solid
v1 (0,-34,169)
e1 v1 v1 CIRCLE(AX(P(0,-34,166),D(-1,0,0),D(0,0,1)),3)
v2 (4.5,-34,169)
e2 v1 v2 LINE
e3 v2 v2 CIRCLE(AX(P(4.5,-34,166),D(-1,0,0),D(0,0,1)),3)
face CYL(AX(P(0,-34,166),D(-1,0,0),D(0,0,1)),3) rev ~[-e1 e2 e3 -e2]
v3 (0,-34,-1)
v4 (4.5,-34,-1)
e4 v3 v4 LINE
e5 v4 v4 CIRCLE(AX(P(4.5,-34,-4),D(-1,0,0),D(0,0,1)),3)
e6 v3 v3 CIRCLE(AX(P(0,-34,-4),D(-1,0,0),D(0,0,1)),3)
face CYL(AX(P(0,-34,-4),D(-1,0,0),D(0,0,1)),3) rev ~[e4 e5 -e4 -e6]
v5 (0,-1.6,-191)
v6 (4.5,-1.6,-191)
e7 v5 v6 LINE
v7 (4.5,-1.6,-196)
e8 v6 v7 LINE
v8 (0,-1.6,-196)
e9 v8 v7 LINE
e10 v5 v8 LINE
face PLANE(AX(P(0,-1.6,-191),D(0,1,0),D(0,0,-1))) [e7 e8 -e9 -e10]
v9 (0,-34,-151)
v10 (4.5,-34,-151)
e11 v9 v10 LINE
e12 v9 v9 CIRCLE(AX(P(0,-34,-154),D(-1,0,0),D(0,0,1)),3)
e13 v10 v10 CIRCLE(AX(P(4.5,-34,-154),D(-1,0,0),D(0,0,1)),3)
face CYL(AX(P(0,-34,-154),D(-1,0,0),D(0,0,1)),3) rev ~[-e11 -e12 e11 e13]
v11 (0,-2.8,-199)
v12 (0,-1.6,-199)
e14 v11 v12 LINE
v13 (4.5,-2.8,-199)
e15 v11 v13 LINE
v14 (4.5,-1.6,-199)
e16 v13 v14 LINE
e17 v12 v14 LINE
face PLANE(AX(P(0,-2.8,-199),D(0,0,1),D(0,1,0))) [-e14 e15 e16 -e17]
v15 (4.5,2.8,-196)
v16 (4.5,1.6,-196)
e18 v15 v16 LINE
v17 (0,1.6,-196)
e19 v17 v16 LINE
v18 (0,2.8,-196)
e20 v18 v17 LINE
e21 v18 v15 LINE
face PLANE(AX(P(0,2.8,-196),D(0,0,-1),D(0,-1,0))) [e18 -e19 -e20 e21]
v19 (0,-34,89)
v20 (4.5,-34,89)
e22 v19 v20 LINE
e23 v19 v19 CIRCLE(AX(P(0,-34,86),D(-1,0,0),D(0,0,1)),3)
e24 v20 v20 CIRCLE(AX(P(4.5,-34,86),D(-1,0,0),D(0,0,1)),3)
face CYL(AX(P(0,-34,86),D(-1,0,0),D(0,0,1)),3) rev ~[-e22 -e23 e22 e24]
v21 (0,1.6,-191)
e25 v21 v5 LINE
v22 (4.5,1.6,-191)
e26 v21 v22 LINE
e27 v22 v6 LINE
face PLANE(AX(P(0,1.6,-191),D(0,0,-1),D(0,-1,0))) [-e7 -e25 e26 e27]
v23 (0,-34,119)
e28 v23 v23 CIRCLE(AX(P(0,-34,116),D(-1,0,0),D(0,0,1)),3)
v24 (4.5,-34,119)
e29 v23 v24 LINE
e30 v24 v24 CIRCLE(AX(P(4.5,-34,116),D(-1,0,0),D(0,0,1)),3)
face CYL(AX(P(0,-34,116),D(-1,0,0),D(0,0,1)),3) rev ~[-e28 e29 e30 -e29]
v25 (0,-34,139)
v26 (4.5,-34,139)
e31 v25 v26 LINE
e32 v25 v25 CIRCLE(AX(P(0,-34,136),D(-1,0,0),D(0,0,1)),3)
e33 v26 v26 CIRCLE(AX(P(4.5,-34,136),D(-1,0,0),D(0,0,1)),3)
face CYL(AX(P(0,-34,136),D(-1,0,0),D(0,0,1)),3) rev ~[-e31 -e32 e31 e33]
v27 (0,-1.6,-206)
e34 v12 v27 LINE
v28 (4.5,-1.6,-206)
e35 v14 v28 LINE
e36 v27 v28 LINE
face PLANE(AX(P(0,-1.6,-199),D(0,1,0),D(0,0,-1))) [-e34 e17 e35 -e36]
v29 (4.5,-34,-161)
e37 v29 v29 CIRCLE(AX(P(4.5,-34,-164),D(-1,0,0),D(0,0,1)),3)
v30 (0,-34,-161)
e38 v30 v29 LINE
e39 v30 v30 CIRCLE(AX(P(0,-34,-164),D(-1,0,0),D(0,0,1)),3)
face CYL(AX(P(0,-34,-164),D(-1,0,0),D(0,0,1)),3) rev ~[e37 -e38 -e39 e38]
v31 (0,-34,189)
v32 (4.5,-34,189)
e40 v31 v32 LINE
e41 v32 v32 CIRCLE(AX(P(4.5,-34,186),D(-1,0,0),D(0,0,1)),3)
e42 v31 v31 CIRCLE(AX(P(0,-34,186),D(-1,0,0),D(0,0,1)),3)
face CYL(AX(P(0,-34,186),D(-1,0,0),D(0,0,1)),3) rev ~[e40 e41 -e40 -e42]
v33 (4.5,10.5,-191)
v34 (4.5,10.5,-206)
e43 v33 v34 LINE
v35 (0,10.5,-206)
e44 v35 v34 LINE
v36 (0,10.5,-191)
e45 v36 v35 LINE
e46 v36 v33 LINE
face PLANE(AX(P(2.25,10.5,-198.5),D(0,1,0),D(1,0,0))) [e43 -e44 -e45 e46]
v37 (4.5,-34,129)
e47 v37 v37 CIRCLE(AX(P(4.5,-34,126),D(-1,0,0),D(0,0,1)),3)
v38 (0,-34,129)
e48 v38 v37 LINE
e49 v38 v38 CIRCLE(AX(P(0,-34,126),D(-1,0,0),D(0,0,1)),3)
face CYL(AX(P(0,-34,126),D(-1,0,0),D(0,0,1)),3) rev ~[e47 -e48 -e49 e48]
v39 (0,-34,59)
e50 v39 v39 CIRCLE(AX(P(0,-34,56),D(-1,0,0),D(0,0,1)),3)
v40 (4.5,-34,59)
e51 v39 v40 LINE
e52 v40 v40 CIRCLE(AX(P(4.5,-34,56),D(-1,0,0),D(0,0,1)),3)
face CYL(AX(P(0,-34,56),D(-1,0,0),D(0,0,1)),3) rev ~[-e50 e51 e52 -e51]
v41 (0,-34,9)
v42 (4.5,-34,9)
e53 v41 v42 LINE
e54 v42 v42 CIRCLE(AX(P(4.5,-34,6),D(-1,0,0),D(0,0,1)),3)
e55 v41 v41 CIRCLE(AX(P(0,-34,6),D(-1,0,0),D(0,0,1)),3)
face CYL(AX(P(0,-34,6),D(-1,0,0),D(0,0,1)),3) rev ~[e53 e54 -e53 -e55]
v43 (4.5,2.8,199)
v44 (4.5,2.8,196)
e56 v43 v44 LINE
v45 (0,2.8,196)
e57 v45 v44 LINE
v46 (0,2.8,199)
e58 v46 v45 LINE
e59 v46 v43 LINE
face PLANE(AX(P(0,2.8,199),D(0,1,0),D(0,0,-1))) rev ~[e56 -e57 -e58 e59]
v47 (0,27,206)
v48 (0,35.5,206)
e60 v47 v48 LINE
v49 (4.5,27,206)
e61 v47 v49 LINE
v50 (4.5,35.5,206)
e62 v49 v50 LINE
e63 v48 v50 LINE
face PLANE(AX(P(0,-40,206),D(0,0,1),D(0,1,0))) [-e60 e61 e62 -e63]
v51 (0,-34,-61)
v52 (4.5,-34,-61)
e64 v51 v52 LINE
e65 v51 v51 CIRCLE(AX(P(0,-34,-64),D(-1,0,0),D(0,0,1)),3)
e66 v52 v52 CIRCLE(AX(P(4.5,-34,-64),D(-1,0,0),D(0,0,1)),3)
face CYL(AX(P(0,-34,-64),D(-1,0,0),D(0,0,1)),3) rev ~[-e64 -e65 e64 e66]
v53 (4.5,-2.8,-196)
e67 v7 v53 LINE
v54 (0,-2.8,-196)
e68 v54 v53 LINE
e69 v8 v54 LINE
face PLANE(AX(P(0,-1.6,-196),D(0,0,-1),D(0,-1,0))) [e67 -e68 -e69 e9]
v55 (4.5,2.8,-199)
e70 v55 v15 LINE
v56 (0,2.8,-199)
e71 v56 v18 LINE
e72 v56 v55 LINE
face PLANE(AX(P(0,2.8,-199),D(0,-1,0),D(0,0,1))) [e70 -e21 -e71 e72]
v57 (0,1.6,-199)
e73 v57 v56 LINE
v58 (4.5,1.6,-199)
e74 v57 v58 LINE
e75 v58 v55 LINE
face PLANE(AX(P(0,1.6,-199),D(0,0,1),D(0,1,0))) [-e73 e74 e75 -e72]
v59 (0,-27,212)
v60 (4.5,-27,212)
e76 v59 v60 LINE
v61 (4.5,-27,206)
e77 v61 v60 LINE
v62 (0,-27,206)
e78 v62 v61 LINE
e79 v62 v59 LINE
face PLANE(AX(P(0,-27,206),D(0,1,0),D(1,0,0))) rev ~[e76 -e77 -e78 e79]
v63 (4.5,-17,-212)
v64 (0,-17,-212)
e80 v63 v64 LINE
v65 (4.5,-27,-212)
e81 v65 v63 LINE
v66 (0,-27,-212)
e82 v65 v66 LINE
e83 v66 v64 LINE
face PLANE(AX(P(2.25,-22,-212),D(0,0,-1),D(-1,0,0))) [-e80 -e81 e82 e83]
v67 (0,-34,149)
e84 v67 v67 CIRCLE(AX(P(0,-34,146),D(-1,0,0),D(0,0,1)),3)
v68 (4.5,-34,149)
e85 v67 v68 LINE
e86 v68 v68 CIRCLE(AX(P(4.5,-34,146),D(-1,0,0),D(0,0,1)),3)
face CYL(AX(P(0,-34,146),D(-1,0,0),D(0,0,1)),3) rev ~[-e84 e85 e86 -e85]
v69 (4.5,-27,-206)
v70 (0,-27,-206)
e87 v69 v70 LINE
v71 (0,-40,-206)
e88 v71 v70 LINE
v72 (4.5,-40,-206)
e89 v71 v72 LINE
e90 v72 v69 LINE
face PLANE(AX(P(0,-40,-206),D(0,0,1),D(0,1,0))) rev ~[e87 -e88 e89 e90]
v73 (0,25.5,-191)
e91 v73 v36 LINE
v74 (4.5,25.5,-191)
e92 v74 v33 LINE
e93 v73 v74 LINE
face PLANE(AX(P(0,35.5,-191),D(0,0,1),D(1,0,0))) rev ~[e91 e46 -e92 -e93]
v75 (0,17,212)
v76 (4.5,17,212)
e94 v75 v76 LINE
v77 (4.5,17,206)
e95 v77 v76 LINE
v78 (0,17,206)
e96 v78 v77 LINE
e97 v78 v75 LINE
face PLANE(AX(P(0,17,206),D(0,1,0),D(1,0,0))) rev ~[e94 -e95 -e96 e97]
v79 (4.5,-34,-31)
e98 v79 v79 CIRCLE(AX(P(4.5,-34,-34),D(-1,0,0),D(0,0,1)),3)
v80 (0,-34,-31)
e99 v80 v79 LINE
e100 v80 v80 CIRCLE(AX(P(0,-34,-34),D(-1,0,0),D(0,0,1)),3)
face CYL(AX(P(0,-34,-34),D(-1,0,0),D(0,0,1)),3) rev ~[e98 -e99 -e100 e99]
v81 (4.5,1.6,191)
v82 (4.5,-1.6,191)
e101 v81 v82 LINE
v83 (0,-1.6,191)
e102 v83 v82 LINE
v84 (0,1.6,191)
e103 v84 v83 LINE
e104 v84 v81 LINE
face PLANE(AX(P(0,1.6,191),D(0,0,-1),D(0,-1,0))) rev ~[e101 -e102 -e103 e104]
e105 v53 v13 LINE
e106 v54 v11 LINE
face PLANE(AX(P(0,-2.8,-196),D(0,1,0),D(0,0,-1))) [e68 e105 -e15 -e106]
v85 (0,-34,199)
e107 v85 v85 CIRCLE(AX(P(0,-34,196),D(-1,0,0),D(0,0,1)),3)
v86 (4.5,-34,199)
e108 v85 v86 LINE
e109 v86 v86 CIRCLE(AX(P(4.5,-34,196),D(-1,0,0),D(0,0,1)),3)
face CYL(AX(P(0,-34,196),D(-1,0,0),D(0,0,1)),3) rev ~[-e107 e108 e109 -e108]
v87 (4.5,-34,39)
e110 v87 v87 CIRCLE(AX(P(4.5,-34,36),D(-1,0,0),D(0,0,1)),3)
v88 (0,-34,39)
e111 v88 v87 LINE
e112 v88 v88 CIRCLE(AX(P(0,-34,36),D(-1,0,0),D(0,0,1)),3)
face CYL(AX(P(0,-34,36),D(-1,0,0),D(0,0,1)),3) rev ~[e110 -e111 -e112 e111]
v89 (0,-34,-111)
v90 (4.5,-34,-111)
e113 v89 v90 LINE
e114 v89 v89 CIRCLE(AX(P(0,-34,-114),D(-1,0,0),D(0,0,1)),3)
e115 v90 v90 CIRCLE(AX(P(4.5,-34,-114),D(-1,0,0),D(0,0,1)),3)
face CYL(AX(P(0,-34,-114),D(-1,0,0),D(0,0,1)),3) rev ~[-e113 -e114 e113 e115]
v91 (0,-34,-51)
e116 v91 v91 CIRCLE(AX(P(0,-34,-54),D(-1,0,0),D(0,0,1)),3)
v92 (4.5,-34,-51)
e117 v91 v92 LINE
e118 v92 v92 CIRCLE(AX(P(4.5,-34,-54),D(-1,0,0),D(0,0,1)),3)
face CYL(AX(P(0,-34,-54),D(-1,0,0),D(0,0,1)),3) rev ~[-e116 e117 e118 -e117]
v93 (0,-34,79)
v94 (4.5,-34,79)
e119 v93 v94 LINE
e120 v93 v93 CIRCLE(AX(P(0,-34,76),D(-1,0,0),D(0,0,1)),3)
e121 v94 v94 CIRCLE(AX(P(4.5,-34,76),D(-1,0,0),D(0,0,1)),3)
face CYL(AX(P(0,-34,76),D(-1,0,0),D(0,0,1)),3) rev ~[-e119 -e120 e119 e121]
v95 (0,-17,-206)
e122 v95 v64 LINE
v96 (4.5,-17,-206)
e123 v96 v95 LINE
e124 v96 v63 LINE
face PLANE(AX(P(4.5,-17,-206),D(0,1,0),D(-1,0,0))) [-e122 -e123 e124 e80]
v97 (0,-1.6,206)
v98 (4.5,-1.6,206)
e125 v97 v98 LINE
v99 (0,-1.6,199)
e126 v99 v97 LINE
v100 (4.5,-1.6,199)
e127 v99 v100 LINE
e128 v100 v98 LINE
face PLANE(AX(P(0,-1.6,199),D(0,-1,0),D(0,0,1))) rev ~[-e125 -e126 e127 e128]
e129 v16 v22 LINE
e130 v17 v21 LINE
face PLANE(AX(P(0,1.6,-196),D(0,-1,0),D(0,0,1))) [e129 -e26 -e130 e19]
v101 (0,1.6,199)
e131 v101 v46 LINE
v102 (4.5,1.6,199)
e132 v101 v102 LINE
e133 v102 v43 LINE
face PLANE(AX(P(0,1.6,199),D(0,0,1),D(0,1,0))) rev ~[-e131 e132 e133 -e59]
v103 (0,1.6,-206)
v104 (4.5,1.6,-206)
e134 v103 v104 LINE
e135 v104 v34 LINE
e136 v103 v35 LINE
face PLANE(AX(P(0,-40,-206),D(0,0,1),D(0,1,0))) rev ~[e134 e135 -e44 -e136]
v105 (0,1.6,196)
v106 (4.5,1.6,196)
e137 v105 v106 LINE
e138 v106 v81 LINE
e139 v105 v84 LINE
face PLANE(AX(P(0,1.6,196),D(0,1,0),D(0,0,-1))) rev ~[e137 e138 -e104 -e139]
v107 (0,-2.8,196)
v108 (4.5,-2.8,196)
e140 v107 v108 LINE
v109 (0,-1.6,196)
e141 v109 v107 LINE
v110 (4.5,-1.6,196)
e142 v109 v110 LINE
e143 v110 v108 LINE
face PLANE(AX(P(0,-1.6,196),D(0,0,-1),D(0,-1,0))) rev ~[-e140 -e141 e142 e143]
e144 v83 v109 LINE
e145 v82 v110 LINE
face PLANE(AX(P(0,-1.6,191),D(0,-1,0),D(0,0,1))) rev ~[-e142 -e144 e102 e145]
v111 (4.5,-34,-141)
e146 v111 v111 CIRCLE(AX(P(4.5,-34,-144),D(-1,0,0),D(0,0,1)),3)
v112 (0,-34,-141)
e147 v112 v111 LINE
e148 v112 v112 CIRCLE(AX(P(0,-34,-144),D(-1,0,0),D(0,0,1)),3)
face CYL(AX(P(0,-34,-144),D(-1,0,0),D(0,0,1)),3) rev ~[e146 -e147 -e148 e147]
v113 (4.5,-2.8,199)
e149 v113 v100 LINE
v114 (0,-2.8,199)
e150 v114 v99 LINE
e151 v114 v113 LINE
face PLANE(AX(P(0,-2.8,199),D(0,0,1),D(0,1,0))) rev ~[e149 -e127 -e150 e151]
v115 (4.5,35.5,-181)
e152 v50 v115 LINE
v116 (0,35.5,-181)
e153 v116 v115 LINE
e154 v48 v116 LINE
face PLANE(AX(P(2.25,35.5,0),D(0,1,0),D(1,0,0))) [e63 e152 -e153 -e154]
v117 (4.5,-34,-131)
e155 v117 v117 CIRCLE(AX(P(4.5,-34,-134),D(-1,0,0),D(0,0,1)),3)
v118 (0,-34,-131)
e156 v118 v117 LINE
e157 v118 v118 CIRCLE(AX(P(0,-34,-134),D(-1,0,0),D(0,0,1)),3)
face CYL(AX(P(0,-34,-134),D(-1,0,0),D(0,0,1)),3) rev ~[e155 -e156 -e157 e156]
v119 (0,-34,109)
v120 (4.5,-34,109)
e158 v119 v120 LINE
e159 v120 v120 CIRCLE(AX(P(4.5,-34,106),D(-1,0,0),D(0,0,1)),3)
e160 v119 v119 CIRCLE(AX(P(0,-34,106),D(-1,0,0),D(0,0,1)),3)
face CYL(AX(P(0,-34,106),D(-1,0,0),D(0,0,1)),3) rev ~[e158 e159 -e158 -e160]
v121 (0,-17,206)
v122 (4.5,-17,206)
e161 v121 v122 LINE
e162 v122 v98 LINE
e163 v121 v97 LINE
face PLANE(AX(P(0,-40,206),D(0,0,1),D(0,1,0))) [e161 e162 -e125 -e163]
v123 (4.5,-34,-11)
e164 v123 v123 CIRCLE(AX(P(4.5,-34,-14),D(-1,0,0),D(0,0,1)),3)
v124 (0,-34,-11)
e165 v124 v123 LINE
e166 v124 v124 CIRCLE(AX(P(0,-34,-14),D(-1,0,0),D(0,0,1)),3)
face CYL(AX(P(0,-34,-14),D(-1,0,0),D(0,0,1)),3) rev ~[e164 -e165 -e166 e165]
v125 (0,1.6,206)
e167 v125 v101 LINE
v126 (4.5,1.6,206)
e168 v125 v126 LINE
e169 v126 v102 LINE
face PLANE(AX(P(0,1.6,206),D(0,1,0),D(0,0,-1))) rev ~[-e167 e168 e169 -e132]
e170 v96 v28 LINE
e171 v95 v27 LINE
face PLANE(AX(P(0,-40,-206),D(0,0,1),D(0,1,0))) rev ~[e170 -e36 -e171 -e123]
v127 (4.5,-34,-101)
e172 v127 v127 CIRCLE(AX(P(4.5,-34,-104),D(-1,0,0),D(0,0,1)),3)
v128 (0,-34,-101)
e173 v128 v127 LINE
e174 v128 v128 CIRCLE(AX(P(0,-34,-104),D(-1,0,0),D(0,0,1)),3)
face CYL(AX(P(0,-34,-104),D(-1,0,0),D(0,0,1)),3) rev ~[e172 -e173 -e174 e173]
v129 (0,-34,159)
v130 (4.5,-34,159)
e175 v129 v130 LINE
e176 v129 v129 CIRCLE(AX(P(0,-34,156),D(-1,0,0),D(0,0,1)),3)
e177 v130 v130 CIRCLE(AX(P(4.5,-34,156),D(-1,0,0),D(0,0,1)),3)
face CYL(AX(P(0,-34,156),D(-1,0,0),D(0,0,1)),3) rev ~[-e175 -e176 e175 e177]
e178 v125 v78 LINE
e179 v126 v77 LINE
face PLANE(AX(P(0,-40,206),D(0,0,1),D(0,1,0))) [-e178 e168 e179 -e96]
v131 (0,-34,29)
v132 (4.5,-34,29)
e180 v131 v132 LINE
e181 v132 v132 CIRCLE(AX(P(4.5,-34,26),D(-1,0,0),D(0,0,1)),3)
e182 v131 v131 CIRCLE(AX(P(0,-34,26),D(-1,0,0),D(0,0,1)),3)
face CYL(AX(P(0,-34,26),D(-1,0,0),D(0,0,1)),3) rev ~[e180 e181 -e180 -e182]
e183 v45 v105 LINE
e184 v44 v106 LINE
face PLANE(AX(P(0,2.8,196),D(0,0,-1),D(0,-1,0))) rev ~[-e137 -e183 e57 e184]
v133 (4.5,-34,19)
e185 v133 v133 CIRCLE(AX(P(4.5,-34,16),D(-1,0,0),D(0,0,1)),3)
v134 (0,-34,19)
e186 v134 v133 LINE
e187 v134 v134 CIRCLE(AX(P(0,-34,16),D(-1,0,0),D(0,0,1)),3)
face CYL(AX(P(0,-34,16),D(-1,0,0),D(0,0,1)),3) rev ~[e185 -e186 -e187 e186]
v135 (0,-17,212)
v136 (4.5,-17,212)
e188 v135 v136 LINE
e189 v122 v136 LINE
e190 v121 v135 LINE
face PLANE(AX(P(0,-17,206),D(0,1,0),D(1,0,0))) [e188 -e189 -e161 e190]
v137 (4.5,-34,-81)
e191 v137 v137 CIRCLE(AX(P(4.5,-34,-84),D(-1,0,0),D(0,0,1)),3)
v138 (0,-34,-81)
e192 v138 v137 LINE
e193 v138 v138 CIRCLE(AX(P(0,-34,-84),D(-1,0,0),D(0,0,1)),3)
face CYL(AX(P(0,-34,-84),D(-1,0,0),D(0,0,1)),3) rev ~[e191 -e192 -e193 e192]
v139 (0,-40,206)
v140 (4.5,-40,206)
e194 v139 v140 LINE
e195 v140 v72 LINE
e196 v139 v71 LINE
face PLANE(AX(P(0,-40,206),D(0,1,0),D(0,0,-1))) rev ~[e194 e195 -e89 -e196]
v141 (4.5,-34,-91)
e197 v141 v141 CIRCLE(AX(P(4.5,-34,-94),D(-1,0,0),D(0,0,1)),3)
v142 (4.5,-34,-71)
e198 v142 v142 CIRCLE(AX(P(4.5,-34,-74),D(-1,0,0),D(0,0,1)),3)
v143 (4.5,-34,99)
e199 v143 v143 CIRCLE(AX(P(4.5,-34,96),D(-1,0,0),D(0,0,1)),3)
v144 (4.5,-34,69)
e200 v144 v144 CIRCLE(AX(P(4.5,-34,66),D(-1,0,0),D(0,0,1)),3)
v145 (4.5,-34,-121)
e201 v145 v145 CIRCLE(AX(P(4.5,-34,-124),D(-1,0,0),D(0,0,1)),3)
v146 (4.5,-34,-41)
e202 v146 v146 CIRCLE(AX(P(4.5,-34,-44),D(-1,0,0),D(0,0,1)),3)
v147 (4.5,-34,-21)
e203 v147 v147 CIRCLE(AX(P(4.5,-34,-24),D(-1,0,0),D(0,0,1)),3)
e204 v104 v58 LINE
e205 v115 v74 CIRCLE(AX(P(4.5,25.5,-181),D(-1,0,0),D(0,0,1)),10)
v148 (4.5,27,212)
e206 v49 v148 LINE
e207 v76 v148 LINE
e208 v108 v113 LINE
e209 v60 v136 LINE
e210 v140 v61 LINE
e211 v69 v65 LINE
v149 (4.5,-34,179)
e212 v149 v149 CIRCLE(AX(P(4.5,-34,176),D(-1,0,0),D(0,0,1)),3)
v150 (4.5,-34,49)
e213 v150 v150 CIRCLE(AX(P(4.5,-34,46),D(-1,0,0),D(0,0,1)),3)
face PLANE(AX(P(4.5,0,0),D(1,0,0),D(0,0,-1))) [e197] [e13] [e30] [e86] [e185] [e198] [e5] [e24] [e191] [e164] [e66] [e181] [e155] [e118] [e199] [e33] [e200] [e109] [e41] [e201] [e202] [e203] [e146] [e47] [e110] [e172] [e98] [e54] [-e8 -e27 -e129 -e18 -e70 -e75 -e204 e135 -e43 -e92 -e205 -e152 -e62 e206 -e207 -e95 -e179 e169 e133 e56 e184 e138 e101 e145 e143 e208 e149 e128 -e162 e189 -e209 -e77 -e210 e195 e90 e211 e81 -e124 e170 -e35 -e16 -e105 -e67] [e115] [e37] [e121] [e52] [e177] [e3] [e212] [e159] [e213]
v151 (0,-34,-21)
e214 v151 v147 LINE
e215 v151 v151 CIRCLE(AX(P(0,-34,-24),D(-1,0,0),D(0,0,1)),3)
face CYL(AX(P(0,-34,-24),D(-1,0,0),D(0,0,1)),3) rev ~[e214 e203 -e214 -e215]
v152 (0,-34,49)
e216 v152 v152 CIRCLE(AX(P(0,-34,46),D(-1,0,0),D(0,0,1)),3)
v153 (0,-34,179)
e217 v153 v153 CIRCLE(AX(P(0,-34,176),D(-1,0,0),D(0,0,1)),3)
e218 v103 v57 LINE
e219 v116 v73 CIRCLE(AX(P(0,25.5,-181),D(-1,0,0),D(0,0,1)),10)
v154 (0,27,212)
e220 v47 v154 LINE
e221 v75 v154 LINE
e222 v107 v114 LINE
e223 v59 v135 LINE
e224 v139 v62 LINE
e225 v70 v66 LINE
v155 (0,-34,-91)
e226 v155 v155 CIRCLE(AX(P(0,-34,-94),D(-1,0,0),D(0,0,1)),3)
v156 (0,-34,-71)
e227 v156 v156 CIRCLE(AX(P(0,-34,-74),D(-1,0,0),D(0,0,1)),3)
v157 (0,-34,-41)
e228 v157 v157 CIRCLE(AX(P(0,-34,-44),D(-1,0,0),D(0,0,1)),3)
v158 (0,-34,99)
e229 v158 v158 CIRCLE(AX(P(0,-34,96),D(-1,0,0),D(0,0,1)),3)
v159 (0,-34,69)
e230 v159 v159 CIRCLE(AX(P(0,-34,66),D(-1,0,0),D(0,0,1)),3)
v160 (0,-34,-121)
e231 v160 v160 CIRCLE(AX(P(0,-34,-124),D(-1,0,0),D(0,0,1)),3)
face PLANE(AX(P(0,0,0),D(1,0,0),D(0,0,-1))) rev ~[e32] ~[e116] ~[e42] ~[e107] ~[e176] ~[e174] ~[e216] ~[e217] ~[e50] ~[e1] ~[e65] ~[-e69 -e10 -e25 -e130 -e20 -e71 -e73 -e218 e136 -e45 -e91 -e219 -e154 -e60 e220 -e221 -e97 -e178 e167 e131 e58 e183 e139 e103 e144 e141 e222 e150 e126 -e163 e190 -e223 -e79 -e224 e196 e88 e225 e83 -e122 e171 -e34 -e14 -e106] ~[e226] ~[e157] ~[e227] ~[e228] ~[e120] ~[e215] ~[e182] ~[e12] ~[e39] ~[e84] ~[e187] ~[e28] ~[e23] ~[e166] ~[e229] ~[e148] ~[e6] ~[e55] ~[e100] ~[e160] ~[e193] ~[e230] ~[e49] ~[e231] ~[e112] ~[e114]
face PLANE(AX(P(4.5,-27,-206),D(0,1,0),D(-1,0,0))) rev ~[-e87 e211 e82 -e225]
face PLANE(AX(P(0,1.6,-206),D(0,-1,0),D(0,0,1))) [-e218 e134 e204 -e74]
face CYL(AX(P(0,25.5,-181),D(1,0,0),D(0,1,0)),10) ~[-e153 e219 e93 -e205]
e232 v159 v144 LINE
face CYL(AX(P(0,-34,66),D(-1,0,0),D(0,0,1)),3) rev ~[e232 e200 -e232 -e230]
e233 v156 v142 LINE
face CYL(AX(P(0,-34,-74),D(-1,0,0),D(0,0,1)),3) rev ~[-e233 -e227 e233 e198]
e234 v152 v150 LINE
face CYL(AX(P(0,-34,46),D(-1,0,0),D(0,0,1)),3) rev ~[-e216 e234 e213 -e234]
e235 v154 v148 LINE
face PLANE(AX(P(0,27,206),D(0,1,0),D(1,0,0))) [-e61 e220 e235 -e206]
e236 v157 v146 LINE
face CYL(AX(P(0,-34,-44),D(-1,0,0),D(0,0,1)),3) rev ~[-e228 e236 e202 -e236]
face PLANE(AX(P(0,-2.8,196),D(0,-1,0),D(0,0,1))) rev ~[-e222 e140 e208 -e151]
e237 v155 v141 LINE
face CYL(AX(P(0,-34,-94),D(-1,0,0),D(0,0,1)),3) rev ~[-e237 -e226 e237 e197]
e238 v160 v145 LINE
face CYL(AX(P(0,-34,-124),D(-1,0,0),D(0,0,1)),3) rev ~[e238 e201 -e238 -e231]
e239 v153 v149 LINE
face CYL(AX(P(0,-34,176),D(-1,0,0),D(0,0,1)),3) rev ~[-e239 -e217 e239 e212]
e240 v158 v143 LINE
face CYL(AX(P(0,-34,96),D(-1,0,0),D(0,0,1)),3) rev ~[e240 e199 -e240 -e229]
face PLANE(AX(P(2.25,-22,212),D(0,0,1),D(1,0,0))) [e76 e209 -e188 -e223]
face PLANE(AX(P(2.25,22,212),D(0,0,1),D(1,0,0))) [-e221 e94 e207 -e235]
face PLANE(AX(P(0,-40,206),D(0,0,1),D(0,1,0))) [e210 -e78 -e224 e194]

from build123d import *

# Parameters (mm, degrees)
SKETCH1_W           = 412
SKETCH1_H           = 80
BOSS_EXTRUDE1_DEPTH = 4.5
SKETCH4_W           = 4.5
SKETCH4_H           = 10
BOSS_EXTRUDE2_DEPTH = 6
CUT_EXTRUDE3_REACH  = 6.5
SKETCH7_W           = 4.5
SKETCH7_H           = 10
BOSS_EXTRUDE3_DEPTH = 6
SKETCH8_W           = 4.5
SKETCH8_H           = 412
CUT_EXTRUDE4_DEPTH  = 4.5
SKETCH9_W           = 4.5
SKETCH9_H           = 15
CUT_EXTRUDE5_DEPTH  = 25
FILLET1_R           = 10
SKETCH10_R          = 3
CUT_EXTRUDE6_DEPTH  = 4.5


with BuildPart() as part:
    # Sketch1 → Boss-Extrude1 (new body)
    with BuildSketch(Plane(origin=(0, 0, 0), x_dir=(0, 0, -1), z_dir=(1, 0, 0))):
        Rectangle(SKETCH1_W, SKETCH1_H)
    extrude(amount=BOSS_EXTRUDE1_DEPTH)

    # Sketch4 → Boss-Extrude2 (add)
    with BuildSketch(Plane.XY.offset(206)):
        with Locations((2.25, 22)):
            Rectangle(SKETCH4_W, SKETCH4_H)
        with Locations((2.25, -22)):
            Rectangle(SKETCH4_W, SKETCH4_H)
    extrude(amount=BOSS_EXTRUDE2_DEPTH)

    # Sketch5 → Cut-Extrude3 (cut, up to next)
    with BuildSketch(Plane.ZY, mode=Mode.PRIVATE) as cut_extrude3_sk1:
        Polygon((206, -1.6), (206, 1.6), (199, 1.6), (199, 2.8), (196, 2.8), (196, 1.6), (191, 1.6), (191, -1.6), (196, -1.6), (196, -2.8), (199, -2.8), (199, -1.6), align=None)
    cut_extrude3_tool1 = extrude(cut_extrude3_sk1.sketch, amount=-CUT_EXTRUDE3_REACH, mode=Mode.PRIVATE) & part.part
    add(cut_extrude3_tool1.solids().sort_by_distance((0, 0, 198.369565))[0], mode=Mode.SUBTRACT)
    # Sketch5 → Cut-Extrude3 (cut, up to next)
    with BuildSketch(Plane.ZY, mode=Mode.PRIVATE) as cut_extrude3_sk2:
        Polygon((-206, -1.6), (-206, 1.6), (-199, 1.6), (-199, 2.8), (-196, 2.8), (-196, 1.6), (-191, 1.6), (-191, -1.6), (-196, -1.6), (-196, -2.8), (-199, -2.8), (-199, -1.6), align=None)
    cut_extrude3_tool2 = extrude(cut_extrude3_sk2.sketch, amount=-CUT_EXTRUDE3_REACH, mode=Mode.PRIVATE) & part.part
    add(cut_extrude3_tool2.solids().sort_by_distance((0, 0, -198.369565))[0], mode=Mode.SUBTRACT)

    # Sketch7 → Boss-Extrude3 (add)
    with BuildSketch(Plane(origin=(0, 0, -206), x_dir=(-1, 0, 0), z_dir=(0, 0, -1))):
        with Locations((-2.25, -22)):
            Rectangle(SKETCH7_W, SKETCH7_H)
    extrude(amount=BOSS_EXTRUDE3_DEPTH)

    # Sketch8 → Cut-Extrude4 (cut)
    with BuildSketch(Plane(origin=(0, 40, 0), x_dir=(1, 0, 0), z_dir=(0, 1, 0))):
        with Locations((2.25, 0)):
            Rectangle(SKETCH8_W, SKETCH8_H)
    extrude(amount=-CUT_EXTRUDE4_DEPTH, mode=Mode.SUBTRACT)

    # Sketch9 → Cut-Extrude5 (cut)
    with BuildSketch(Plane(origin=(0, 35.5, 0), x_dir=(1, 0, 0), z_dir=(0, 1, 0))):
        with Locations((2.25, 198.5)):
            Rectangle(SKETCH9_W, SKETCH9_H)
    extrude(amount=-CUT_EXTRUDE5_DEPTH, mode=Mode.SUBTRACT)

    # Fillet1
    fillet1_edges = [part.edges().sort_by_distance(p)[0] for p in [
        (2.25, 35.5, -191),
    ]]
    fillet(fillet1_edges, radius=FILLET1_R)

    # Sketch10 → Cut-Extrude6 (cut)
    with BuildSketch(Plane.ZY):
        with Locations((196, -34)):
            Circle(SKETCH10_R)
        with Locations((186, -34)):
            Circle(SKETCH10_R)
        with Locations((176, -34)):
            Circle(SKETCH10_R)
        with Locations((166, -34)):
            Circle(SKETCH10_R)
        with Locations((156, -34)):
            Circle(SKETCH10_R)
        with Locations((146, -34)):
            Circle(SKETCH10_R)
        with Locations((136, -34)):
            Circle(SKETCH10_R)
        with Locations((126, -34)):
            Circle(SKETCH10_R)
        with Locations((116, -34)):
            Circle(SKETCH10_R)
        with Locations((106, -34)):
            Circle(SKETCH10_R)
        with Locations((96, -34)):
            Circle(SKETCH10_R)
        with Locations((86, -34)):
            Circle(SKETCH10_R)
        with Locations((76, -34)):
            Circle(SKETCH10_R)
        with Locations((66, -34)):
            Circle(SKETCH10_R)
        with Locations((56, -34)):
            Circle(SKETCH10_R)
        with Locations((46, -34)):
            Circle(SKETCH10_R)
        with Locations((36, -34)):
            Circle(SKETCH10_R)
        with Locations((26, -34)):
            Circle(SKETCH10_R)
        with Locations((16, -34)):
            Circle(SKETCH10_R)
        with Locations((6, -34)):
            Circle(SKETCH10_R)
        with Locations((-4, -34)):
            Circle(SKETCH10_R)
        with Locations((-14, -34)):
            Circle(SKETCH10_R)
        with Locations((-24, -34)):
            Circle(SKETCH10_R)
        with Locations((-34, -34)):
            Circle(SKETCH10_R)
        with Locations((-44, -34)):
            Circle(SKETCH10_R)
        with Locations((-54, -34)):
            Circle(SKETCH10_R)
        with Locations((-64, -34)):
            Circle(SKETCH10_R)
        with Locations((-74, -34)):
            Circle(SKETCH10_R)
        with Locations((-84, -34)):
            Circle(SKETCH10_R)
        with Locations((-94, -34)):
            Circle(SKETCH10_R)
        with Locations((-104, -34)):
            Circle(SKETCH10_R)
        with Locations((-114, -34)):
            Circle(SKETCH10_R)
        with Locations((-124, -34)):
            Circle(SKETCH10_R)
        with Locations((-134, -34)):
            Circle(SKETCH10_R)
        with Locations((-144, -34)):
            Circle(SKETCH10_R)
        with Locations((-154, -34)):
            Circle(SKETCH10_R)
        with Locations((-164, -34)):
            Circle(SKETCH10_R)
    extrude(amount=-CUT_EXTRUDE6_DEPTH, mode=Mode.SUBTRACT)


solid = part.part
